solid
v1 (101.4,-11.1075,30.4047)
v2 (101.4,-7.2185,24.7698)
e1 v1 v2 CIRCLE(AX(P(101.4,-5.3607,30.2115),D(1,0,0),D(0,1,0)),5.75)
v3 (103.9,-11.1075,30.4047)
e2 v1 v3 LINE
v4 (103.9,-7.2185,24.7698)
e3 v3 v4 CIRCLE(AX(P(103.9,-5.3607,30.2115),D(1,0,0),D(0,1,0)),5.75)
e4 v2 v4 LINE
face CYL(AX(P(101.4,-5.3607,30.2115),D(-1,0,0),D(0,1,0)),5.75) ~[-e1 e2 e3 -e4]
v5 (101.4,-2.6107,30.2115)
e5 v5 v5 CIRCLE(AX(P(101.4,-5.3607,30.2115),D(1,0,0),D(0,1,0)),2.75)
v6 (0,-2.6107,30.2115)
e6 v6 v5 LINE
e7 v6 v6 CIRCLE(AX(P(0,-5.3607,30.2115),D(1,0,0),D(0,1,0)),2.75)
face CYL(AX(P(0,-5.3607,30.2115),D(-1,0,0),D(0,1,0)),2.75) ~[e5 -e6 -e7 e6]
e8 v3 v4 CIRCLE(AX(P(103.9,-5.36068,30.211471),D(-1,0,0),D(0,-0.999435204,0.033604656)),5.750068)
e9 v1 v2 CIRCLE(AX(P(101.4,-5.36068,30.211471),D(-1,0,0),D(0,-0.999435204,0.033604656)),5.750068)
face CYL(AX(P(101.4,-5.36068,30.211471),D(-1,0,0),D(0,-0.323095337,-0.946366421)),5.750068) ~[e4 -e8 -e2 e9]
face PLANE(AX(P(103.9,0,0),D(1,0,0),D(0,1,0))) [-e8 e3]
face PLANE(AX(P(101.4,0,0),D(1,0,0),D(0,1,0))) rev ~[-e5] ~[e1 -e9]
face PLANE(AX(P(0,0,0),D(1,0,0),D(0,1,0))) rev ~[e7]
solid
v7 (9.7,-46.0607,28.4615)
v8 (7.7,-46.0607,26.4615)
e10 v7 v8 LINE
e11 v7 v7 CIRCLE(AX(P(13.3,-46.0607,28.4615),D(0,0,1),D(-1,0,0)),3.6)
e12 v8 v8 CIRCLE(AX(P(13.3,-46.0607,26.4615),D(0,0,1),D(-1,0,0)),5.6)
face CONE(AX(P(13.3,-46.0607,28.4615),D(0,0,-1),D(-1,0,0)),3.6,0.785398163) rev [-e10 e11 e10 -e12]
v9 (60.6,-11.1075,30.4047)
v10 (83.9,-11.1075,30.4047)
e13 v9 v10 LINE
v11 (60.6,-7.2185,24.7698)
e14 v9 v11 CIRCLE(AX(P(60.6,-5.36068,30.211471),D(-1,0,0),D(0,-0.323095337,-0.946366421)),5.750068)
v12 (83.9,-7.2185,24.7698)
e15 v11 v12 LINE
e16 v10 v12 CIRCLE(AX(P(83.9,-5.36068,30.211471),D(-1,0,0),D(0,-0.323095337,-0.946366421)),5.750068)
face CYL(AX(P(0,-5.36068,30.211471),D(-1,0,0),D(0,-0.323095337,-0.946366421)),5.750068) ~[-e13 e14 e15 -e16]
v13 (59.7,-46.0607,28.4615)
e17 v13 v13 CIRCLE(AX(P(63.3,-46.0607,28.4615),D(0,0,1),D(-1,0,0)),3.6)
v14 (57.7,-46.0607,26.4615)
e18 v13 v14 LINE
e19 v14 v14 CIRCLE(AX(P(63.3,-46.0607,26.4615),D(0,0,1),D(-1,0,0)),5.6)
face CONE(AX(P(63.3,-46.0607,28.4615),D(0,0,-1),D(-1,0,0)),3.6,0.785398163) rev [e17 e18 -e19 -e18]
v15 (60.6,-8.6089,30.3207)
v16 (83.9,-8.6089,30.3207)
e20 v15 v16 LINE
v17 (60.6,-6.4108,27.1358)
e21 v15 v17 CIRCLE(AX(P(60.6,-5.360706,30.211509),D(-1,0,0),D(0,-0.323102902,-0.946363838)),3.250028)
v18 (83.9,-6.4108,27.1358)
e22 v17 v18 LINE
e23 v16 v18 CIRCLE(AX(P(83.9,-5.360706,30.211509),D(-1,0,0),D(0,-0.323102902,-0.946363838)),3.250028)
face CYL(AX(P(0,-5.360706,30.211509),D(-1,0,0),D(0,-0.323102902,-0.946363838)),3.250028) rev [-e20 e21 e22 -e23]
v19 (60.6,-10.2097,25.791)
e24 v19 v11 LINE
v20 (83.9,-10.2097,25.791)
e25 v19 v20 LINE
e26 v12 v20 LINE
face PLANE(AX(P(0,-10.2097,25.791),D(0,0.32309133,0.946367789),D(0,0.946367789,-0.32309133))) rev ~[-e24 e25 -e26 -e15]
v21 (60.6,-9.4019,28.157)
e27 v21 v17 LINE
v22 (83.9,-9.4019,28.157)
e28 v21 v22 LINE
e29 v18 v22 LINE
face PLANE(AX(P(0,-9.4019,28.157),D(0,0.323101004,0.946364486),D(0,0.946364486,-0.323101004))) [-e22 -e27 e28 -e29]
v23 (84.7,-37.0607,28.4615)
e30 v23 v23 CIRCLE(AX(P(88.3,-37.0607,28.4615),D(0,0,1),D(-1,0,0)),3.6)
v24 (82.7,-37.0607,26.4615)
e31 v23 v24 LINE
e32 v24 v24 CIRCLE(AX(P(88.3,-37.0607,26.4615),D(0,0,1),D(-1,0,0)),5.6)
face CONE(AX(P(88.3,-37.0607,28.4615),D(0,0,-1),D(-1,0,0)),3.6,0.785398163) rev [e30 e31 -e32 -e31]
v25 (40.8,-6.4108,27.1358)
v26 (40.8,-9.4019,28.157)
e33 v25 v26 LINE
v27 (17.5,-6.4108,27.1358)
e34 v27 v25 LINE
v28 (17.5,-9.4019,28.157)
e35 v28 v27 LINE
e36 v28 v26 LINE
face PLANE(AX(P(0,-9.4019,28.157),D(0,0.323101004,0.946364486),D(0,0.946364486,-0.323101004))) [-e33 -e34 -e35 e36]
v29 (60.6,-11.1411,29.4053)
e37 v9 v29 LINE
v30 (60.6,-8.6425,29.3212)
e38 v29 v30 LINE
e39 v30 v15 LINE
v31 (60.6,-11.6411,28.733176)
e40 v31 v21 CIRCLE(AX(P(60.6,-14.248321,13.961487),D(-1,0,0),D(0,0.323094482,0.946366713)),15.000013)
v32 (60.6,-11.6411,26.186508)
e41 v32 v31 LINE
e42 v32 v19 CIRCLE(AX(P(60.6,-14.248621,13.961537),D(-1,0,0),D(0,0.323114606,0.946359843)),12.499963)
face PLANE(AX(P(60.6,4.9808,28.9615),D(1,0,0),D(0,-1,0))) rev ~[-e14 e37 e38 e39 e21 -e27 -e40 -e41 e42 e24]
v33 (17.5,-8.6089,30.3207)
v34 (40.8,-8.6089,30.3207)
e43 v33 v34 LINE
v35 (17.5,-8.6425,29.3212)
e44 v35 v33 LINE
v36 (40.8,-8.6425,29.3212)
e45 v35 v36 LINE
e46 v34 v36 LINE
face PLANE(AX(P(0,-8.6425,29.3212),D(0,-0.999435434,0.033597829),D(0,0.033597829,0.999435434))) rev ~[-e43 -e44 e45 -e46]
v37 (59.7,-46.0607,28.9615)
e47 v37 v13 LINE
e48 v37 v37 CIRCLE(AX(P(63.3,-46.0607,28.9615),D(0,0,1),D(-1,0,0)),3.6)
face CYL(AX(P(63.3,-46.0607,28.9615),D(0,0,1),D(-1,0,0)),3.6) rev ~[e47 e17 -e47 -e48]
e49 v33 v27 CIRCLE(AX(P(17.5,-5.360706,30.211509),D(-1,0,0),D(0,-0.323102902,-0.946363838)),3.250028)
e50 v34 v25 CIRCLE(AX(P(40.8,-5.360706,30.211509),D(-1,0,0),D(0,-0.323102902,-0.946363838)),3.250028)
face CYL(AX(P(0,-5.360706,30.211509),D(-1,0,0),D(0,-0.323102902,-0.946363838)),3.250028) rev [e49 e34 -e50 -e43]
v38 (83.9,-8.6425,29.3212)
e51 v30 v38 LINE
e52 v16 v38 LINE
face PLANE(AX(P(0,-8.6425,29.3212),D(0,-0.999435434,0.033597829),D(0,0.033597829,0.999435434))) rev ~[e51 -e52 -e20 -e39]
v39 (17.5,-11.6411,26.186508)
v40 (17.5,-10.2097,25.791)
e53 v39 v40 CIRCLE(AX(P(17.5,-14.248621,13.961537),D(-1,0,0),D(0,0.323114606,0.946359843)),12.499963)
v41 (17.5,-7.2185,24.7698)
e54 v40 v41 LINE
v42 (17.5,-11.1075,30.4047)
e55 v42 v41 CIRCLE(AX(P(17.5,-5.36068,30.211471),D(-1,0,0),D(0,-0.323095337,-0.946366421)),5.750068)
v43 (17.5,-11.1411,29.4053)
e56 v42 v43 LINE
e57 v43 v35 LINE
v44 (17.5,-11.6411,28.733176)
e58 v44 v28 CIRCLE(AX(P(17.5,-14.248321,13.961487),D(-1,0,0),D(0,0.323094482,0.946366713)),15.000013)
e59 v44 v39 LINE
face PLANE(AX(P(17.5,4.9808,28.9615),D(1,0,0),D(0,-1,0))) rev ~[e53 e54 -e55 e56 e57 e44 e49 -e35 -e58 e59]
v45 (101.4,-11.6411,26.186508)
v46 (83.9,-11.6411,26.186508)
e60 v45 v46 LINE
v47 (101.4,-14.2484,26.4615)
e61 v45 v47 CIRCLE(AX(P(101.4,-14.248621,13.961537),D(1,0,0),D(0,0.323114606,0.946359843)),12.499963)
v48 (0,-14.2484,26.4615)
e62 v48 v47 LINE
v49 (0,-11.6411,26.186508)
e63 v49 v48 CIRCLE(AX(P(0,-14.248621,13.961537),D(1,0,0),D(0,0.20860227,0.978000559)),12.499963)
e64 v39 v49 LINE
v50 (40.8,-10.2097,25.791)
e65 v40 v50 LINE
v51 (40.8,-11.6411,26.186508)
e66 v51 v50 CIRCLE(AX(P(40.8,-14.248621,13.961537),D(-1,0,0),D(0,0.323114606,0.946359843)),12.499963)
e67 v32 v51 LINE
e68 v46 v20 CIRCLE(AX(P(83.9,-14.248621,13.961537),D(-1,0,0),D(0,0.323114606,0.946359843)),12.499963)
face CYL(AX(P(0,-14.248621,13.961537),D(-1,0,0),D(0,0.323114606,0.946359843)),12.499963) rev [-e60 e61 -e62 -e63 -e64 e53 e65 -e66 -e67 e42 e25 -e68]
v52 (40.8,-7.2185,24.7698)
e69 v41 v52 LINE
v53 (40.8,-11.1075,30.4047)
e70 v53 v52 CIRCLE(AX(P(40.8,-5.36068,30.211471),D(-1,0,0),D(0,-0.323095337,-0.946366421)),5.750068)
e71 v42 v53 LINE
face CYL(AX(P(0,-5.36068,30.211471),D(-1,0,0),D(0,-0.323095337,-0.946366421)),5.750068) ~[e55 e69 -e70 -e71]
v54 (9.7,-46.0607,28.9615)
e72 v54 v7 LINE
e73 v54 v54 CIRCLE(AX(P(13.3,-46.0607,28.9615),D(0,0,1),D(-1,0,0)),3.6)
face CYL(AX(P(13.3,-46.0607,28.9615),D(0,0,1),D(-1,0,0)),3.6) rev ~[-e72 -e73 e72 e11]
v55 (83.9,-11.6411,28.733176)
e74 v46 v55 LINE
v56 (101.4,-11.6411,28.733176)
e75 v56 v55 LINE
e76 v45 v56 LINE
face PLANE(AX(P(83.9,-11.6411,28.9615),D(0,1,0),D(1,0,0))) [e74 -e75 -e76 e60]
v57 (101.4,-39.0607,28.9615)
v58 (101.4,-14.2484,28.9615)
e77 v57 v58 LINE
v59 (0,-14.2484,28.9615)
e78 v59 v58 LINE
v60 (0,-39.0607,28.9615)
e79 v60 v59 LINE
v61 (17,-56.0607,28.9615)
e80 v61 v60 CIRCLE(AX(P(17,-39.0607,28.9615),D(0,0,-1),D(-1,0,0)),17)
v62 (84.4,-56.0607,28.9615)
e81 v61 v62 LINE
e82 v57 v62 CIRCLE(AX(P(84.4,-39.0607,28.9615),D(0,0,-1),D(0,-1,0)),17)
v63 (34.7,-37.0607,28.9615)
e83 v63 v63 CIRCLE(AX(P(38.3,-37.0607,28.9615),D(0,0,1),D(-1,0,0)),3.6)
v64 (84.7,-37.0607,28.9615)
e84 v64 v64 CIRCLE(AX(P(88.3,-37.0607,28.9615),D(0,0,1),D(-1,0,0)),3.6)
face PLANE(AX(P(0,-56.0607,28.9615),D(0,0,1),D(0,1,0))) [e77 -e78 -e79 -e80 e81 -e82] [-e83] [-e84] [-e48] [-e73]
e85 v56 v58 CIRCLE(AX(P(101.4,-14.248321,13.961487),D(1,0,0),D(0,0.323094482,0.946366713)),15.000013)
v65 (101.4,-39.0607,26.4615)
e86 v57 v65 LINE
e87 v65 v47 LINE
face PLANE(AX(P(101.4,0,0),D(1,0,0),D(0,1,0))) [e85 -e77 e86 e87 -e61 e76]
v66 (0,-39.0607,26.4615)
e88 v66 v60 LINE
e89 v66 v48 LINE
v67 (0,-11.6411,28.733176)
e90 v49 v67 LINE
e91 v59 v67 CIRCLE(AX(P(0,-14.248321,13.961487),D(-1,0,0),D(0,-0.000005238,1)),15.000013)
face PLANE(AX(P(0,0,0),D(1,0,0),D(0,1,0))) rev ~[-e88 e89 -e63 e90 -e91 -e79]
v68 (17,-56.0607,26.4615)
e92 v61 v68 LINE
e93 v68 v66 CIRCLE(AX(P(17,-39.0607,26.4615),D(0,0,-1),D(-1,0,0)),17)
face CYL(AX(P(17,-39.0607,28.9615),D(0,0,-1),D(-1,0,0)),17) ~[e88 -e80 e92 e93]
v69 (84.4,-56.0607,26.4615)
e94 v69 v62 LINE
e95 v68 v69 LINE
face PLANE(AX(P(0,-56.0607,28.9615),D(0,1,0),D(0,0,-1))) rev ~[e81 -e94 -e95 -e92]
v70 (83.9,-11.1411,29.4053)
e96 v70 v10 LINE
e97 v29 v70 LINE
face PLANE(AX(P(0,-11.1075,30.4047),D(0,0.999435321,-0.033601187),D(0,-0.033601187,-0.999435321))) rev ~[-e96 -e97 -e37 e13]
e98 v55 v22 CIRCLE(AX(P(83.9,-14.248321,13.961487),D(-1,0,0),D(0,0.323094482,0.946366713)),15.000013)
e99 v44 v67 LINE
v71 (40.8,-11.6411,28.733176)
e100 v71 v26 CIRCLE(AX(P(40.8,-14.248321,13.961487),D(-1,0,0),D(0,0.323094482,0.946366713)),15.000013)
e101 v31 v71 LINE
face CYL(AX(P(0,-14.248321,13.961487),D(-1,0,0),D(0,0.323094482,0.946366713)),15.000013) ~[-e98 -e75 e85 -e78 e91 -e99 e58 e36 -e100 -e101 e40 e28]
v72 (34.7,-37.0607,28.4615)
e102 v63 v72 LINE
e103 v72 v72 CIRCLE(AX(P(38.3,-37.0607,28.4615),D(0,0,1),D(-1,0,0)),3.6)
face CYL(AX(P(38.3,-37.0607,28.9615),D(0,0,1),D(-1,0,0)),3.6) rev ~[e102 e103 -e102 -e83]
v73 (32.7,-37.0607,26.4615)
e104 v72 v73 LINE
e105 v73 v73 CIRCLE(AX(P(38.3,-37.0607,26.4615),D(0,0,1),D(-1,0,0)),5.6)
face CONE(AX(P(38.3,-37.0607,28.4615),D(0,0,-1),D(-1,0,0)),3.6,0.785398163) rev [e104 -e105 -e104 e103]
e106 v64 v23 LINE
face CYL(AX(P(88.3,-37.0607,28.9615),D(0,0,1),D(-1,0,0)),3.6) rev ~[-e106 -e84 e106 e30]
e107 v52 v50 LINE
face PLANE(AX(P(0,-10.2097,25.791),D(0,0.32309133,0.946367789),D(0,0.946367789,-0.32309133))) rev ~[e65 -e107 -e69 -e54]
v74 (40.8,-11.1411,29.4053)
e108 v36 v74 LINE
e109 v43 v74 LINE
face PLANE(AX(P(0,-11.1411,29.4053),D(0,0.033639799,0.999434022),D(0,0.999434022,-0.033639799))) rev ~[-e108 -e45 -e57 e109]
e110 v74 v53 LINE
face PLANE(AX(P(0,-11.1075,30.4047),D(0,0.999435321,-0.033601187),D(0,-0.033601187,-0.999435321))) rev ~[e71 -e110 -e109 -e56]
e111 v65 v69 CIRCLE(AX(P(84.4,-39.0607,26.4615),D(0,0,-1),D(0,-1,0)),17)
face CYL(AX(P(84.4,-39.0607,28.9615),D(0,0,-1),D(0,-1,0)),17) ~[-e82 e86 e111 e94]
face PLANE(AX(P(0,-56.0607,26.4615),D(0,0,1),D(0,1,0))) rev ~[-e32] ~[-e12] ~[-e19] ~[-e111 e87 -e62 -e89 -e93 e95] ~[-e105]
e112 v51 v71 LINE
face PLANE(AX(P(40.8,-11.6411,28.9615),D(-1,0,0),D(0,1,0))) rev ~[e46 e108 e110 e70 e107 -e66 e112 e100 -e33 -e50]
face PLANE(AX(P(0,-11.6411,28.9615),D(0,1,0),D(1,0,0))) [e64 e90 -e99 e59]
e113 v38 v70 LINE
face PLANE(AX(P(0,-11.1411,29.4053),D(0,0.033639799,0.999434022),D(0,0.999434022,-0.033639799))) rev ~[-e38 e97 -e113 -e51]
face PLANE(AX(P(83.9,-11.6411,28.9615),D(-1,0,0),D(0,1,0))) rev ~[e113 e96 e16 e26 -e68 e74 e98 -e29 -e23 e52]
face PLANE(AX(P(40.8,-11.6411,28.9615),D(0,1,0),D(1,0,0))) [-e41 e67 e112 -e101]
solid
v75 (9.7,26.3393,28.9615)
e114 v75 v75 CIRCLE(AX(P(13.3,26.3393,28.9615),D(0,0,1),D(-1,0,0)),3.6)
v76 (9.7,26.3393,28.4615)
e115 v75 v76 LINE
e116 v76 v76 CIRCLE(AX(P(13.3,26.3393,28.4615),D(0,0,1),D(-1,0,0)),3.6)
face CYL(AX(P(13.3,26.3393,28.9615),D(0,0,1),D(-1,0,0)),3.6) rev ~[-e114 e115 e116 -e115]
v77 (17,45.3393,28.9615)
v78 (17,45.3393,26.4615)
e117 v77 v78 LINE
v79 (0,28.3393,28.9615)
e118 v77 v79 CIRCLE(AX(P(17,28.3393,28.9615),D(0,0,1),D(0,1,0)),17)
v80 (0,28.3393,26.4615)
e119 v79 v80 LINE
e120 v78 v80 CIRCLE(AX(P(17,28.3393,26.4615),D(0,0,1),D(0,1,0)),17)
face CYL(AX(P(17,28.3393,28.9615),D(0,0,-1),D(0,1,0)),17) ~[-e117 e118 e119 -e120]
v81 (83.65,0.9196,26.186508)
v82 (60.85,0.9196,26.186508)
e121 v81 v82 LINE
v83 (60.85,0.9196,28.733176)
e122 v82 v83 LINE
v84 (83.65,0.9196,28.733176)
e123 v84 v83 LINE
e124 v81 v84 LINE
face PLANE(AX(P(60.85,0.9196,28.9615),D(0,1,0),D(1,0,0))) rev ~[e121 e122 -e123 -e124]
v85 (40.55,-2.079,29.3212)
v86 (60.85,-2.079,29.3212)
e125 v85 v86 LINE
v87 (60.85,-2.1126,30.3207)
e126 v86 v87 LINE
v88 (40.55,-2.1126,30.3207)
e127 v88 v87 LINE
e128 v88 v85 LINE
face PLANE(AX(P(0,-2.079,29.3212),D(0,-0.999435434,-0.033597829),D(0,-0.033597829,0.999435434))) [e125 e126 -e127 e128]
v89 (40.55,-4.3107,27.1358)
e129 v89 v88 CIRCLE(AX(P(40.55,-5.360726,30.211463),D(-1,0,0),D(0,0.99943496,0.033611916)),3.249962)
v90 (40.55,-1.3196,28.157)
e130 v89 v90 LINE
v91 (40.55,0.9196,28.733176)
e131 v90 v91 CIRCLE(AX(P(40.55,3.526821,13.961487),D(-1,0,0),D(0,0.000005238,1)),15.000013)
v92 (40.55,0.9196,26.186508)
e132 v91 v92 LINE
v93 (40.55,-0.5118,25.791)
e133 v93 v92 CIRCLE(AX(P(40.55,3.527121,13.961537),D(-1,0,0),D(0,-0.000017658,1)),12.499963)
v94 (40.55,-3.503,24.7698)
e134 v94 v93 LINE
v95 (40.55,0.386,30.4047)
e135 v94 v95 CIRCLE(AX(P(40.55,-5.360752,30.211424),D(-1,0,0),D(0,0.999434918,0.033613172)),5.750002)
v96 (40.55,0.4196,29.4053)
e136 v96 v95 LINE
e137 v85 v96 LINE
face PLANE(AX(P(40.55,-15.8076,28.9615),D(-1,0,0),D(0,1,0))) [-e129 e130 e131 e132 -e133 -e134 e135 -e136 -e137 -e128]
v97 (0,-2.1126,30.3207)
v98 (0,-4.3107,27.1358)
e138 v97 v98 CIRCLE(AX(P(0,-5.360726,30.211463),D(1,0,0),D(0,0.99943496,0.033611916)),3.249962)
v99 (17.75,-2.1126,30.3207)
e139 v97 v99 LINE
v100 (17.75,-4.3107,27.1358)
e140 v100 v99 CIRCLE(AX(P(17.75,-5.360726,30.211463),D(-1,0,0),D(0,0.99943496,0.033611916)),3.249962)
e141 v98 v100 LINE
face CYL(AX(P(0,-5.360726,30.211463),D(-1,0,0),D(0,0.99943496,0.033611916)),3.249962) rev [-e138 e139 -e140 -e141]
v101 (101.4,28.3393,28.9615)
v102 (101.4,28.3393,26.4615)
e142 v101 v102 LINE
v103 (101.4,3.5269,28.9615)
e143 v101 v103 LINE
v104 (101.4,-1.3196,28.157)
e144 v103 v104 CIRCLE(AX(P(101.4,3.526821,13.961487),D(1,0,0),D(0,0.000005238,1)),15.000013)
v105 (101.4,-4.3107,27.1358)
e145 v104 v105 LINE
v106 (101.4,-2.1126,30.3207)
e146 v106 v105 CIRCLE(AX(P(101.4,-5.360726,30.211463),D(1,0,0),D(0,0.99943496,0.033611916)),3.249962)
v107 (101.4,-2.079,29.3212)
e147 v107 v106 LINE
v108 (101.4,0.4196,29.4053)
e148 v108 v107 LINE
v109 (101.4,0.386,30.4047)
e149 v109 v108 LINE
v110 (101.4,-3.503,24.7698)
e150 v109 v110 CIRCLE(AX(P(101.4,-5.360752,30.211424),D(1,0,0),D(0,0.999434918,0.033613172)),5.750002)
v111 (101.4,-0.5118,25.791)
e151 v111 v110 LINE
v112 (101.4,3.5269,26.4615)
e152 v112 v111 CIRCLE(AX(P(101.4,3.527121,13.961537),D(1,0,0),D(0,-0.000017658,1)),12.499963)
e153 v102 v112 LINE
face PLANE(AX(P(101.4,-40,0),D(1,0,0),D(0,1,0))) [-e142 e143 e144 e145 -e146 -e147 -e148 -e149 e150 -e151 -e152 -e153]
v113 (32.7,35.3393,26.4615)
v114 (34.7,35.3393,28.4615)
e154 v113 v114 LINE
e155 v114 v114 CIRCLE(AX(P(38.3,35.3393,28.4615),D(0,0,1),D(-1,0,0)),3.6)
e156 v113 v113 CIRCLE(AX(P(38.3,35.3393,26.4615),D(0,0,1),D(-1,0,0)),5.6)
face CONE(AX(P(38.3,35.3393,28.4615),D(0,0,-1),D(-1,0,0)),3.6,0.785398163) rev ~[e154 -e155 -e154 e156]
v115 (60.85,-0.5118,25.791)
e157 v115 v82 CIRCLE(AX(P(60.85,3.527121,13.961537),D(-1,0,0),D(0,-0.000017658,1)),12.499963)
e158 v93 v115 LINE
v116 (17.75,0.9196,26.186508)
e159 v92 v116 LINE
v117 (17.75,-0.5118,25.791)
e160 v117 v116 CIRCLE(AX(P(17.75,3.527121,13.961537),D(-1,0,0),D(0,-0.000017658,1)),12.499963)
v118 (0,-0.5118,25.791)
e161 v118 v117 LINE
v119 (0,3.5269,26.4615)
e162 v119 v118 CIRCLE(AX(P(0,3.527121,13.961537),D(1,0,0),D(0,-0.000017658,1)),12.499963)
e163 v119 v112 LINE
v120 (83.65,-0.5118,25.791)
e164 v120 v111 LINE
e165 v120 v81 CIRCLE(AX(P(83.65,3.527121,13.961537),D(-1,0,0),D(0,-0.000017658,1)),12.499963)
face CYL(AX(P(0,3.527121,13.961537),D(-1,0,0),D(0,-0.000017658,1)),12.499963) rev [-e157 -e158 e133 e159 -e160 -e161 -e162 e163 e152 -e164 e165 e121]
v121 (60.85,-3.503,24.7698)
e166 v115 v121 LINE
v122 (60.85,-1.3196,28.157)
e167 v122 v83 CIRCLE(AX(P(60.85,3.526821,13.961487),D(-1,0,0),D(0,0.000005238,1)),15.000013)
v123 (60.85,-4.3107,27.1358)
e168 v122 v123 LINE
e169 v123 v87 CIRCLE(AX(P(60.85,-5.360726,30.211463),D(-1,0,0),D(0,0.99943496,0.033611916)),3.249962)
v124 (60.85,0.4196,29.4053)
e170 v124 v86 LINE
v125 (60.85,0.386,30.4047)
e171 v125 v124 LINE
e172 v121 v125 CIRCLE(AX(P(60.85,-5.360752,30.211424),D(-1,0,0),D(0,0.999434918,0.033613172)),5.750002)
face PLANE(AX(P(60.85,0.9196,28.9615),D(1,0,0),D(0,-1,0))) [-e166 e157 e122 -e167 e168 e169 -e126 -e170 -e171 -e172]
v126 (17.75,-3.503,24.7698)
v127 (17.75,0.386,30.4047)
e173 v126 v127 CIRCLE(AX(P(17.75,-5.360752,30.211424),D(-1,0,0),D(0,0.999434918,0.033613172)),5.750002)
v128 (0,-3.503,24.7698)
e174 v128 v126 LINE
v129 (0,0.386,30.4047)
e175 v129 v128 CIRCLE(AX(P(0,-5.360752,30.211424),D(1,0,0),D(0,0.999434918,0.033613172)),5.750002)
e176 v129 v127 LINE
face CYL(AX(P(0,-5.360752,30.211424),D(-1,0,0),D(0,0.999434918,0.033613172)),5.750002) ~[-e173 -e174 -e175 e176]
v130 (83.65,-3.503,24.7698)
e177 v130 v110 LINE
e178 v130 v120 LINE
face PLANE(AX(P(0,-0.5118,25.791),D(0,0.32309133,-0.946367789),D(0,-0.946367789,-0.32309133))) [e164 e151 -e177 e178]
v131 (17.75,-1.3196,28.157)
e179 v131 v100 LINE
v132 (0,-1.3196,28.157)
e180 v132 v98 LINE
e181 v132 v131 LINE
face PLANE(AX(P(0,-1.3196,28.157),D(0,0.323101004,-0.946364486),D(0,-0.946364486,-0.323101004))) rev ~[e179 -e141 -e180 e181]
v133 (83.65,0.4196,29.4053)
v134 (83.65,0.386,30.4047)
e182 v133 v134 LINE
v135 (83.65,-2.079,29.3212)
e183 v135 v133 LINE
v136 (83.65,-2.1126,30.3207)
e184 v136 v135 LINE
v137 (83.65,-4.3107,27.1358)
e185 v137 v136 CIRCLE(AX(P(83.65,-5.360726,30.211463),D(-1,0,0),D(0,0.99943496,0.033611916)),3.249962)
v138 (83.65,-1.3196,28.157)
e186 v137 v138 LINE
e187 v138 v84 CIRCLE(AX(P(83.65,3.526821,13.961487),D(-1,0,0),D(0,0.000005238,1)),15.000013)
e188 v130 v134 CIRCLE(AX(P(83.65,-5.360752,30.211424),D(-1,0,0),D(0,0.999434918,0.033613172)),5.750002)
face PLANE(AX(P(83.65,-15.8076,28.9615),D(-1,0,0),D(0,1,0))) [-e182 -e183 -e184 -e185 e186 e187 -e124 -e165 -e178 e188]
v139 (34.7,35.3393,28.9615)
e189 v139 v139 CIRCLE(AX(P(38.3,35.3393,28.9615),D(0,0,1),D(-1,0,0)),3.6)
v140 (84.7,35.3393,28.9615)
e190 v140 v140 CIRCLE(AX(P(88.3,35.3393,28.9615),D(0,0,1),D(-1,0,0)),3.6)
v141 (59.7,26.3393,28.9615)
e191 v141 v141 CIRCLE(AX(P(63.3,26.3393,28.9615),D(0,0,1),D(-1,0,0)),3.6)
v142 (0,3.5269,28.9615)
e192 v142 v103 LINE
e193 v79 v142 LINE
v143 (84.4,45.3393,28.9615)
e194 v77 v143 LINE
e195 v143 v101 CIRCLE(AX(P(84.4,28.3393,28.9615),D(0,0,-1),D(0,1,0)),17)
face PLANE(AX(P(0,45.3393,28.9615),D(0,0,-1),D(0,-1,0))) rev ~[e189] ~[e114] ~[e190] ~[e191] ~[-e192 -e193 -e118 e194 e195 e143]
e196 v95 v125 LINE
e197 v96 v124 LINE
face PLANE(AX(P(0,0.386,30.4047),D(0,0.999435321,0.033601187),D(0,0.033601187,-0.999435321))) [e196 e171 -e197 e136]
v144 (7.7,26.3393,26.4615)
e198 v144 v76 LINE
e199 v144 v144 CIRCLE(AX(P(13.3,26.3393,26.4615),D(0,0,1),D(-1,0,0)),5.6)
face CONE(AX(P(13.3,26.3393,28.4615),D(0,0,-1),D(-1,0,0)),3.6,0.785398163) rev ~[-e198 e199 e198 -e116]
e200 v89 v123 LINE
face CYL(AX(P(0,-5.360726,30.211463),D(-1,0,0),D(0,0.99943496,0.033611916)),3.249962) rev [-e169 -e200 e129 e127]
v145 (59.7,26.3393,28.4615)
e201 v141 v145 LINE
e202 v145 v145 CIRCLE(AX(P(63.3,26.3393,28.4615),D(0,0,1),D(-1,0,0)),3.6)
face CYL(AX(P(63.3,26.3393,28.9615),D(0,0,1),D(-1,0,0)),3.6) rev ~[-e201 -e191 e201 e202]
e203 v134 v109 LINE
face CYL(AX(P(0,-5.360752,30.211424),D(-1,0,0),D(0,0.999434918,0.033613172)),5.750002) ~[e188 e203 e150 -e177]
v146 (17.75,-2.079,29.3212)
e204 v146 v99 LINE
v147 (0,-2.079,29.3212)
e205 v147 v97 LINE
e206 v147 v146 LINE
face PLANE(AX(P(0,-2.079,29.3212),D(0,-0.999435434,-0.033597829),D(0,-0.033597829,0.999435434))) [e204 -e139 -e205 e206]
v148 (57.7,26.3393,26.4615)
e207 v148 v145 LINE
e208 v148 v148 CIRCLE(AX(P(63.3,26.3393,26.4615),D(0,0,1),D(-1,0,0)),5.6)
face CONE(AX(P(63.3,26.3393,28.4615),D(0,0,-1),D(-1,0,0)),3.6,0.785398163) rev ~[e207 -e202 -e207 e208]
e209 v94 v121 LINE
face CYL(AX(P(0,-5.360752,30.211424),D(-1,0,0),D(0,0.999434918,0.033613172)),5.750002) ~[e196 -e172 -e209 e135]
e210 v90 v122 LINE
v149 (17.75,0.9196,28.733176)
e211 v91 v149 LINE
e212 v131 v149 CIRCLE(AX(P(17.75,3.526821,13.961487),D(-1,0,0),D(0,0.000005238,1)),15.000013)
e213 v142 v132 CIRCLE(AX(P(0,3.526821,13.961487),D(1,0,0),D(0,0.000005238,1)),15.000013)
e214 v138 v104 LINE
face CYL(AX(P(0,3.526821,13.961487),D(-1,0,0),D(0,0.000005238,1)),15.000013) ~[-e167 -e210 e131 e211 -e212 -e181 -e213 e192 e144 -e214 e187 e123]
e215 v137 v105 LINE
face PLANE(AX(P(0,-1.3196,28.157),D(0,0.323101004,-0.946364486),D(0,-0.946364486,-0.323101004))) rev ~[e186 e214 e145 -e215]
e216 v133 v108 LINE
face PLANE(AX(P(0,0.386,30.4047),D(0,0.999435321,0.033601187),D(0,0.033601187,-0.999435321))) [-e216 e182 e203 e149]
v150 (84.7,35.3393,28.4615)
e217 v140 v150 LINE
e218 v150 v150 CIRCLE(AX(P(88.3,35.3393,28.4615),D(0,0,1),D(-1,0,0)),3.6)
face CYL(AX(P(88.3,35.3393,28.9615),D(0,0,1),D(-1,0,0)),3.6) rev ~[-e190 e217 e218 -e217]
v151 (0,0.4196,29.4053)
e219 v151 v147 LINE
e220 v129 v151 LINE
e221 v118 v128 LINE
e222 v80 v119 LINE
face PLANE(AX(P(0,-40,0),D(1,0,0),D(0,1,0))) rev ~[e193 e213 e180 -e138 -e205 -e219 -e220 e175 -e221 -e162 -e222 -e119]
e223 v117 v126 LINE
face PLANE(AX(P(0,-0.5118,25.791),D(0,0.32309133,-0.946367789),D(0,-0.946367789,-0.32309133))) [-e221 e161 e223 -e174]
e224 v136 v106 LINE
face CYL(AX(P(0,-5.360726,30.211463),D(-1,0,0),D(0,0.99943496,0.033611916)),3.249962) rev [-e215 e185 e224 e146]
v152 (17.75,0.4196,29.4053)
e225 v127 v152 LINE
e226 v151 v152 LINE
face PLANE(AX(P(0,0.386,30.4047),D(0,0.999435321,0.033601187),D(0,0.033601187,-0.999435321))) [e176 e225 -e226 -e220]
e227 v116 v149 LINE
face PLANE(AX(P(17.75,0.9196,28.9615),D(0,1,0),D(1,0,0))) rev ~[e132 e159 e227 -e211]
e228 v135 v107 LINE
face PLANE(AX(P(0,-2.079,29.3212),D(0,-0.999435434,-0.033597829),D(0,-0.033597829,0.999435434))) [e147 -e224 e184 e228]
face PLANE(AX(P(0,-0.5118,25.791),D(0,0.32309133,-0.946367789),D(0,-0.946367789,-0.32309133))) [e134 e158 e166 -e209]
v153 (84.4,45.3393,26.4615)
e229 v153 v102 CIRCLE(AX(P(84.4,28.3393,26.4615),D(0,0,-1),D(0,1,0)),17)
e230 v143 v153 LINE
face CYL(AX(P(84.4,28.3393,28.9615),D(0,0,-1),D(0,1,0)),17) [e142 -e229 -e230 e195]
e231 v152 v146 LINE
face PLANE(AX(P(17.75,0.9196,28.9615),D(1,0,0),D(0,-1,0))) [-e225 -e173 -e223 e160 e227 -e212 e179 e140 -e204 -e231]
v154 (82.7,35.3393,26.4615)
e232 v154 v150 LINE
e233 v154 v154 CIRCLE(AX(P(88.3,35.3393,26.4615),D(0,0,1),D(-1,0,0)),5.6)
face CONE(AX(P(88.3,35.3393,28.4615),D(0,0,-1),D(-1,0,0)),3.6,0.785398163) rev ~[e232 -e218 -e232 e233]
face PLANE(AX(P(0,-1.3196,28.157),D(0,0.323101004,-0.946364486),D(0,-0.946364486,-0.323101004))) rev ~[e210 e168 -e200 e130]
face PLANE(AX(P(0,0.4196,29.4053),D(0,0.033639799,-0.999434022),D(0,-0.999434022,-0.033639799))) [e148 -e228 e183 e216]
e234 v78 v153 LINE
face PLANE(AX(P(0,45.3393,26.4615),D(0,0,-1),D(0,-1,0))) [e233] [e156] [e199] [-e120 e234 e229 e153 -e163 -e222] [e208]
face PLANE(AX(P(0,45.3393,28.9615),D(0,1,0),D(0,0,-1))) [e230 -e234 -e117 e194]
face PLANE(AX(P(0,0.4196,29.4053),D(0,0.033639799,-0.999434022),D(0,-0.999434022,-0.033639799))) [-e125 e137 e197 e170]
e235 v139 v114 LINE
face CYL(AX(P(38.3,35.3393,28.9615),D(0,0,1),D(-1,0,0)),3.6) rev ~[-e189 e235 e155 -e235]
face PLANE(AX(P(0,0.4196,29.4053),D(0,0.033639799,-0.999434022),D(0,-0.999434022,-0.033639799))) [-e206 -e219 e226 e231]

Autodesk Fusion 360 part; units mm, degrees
sketch "Sketch1" plane through (0, 0, 0) normal (1, 0, 0) x (0, 1, 0)
  line L0 (-56.0607, 28.9615) -> (-14.2484, 28.9615)
  line L1 (-9.4019, 28.157) -> (-6.4108, 27.1358)
  arc A0 (-6.4108, 27.1358) -> (-8.6089, 30.3207) centre (-5.3607, 30.2115) ccw
  circle A1 centre (-5.3607, 30.2115) radius 2.75
  line L2 (-56.0607, 26.4615) -> (-14.2484, 26.4615)
  line L3 (-10.2097, 25.791) -> (-7.2185, 24.7698)
  arc A2 (-7.2185, 24.7698) -> (-11.1075, 30.4047) centre (-5.3607, 30.2115) ccw
  line L4 (-56.0607, 28.9615) -> (-56.0607, 26.4615)
  line L5 (-11.1075, 30.4047) -> (-11.1411, 29.4053)
  line L6 (-11.1411, 29.4053) -> (-8.6425, 29.3212)
  line L7 (-8.6425, 29.3212) -> (-8.6089, 30.3207)
  arc A3 (-9.4019, 28.157) -> (-14.2484, 28.9615) centre (-14.2484, 13.9615) ccw
  arc A4 (-10.2097, 25.791) -> (-14.2484, 26.4615) centre (-14.2484, 13.9615) ccw
  line L8 (14.6393, 52.3652) -> (14.6393, 9.6795) construction
  arc A5 (40.386, 30.4047) -> (36.497, 24.7698) centre (34.6393, 30.2115) ccw
  circle A6 centre (34.6393, 30.2115) radius 2.75
  line L9 (85.3393, 28.9615) -> (43.5269, 28.9615)
  line L10 (85.3393, 28.9615) -> (85.3393, 26.4615)
  arc A7 (43.5269, 28.9615) -> (38.6804, 28.157) centre (43.5269, 13.9615) ccw
  line L11 (40.386, 30.4047) -> (40.4196, 29.4053)
  arc A8 (37.8874, 30.3207) -> (35.6893, 27.1358) centre (34.6393, 30.2115) ccw
  line L12 (38.6804, 28.157) -> (35.6893, 27.1358)
  line L13 (40.4196, 29.4053) -> (37.921, 29.3212)
  line L14 (39.4882, 25.791) -> (36.497, 24.7698)
  line L15 (85.3393, 26.4615) -> (43.5269, 26.4615)
  arc A9 (43.5269, 26.4615) -> (39.4882, 25.791) centre (43.5269, 13.9615) ccw
  line L16 (37.921, 29.3212) -> (37.8874, 30.3207)
  dimension "d1" = 5.5
  dimension "d3" = 50.7
  dimension "d4" = 2.5
  dimension "d5" = 1.25
  dimension "d6" = 0.5
  dimension "d7" = 2.5
  dimension "d9" = 1
  dimension "d10" = 15
  dimension "d12" = 20
extrude "Extrude1" add sketch "Sketch1" along normal blind 101.4 contours L0 L1 A0 L2 L3 A2 L4 L5 L6 L7 A3 A4 makes body 1 in component "Hinge side 1"
sketch "Sketch1 (2)" plane through (0, 0, 28.9615) normal (0, 0, 1) x (-1, 0, 0) in component "Hinge side 1"
  line L0 (0, 14.2484) -> (0, 56.0607)
  line L1 (0, 56.0607) -> (-101.4, 56.0607)
  line L2 (-101.4, 56.0607) -> (-101.4, 14.2484)
  line L3 (-101.4, 14.2484) -> (0, 14.2484)
  line L4 (0, 14.2484) -> (18.3824, 20.4527)
  line L5 (18.3824, 20.4527) -> (18.3824, -4.9808)
  line L6 (18.3824, -4.9808) -> (-17.5, -4.9808)
  line L7 (-17.5, -4.9808) -> (-17.5, 14.2484)
  line L8 (-40.8, 14.2484) -> (-40.8, 11.0057)
  line L9 (-40.8, 11.0057) -> (-40.8, -4.9808)
  line L10 (-40.8, -4.9808) -> (-60.6, -4.9808)
  line L11 (-60.6, -4.9808) -> (-60.6, 14.2484)
  line L12 (-83.9, 14.2484) -> (-83.9, -4.9808)
  line L13 (-83.9, -4.9808) -> (-134.9138, -4.9808)
  line L14 (-134.9138, -4.9808) -> (-127.3022, 20.8989)
  line L15 (-127.3022, 20.8989) -> (-101.4, 14.2484)
  circle A0 centre (-13.3, 46.0607) radius 3.6
  circle A1 centre (-63.3, 46.0607) radius 3.6
  circle A2 centre (-38.3, 37.0607) radius 3.6
  circle A3 centre (-88.3, 37.0607) radius 3.6
  arc A4 (0, 39.0607) -> (-17, 56.0607) centre (-17, 39.0607) ccw
  arc A5 (-84.4, 56.0607) -> (-101.4, 39.0607) centre (-84.4, 39.0607) ccw
  line L16 (0, 11.1411) -> (0, 8.6425)
  line L17 (-60.6, 11.6411) -> (-61.7689, 11.6411)
  line L18 (0, 11.6411) -> (-83.9, 11.6411)
  arc A6 (0, 11.6411) -> (0, 13.0607) centre (0, 12.3509) ccw
  line L19 (0, 13.0607) -> (0, 14.2484)
  line L20 (-83.9, 11.6411) -> (-104.4263, 11.6411)
  line L21 (-104.4263, 11.6411) -> (-104.4263, 15.0254)
  dimension "d25" = 17.5
  dimension "d26" = 17.5
  dimension "d27" = 23.3
  dimension "d28" = 23.3
  dimension "d37" = 7.2
  dimension "d40" = -25
  dimension "d41" = -9
  dimension "d42" = 13.3
  dimension "d43" = 10
  dimension "d44" = 17
  dimension "d45" = 17
  dimension "d78" = 0.5
extrude "Extrude2" cut sketch "Sketch1 (2)" along normal blind 10 and the other way blind 10 contours L4 L5 L6 L7 L18 A6 L19 | L0 L1 A4 | L1 L2 A5 | L8 L9 L10 L11 L18 | L12 L13 L14 L15 L20 L21 | A0 | A1 | A2 | A3 bodies 1 in component "Hinge side 1"
chamfer "Chamfer1" distance 2 angle 45 4 edges at (16.6564, -44.7589, 26.4615) (41.6564, -35.7589, 26.4615) (66.6564, -44.7589, 26.4615) (91.6564, -35.7589, 26.4615) on bodies 1 in component "Hinge side 1"
extrude "Extrude1'" add sketch "Sketch1" along normal blind 101.4 separate body contours A5 L9 L10 A7 L11 A8 L12 L13 L14 L15 A9 L16 makes body 2 in component "Hinge side 2"
sketch "Sketch1 (3)" plane through (0, 0, 28.9615) normal (0, 0, 1) x (-1, 0, 0) in component "Hinge side 2"
  line L0 (0, -85.3393) -> (0, -43.5269)
  line L1 (0, -43.5269) -> (-101.4, -43.5269)
  line L2 (-101.4, -43.5269) -> (-101.4, -85.3393)
  line L3 (-101.4, -85.3393) -> (0, -85.3393)
  line L4 (-17.75, -43.5269) -> (-17.75, -24.1924)
  line L5 (-17.75, -24.1924) -> (-40.55, -24.1924)
  line L6 (-40.55, -24.1924) -> (-40.55, -43.5269)
  line L7 (-60.85, -43.5269) -> (-60.85, -24.1924)
  line L8 (-60.85, -24.1924) -> (-83.65, -24.1924)
  line L9 (-83.65, -24.1924) -> (-83.65, -43.5269)
  line L10 (-17.5, -4.9808) -> (-17.5, 14.2484)
  line L11 (-40.8, 11.0057) -> (-40.8, -4.9808)
  line L12 (-60.6, -4.9808) -> (-60.6, 14.2484)
  line L13 (-83.9, 14.2484) -> (-83.9, -4.9808)
  line L14 (0, -40.4196) -> (0, -37.921)
  line L15 (-17.75, -40.9196) -> (-83.65, -40.9196)
  dimension "d29" = 0.25
  dimension "d30" = 0.25
  dimension "d31" = 0.25
  dimension "d32" = 0.25
  dimension "d80" = 0.5
extrude "Extrude2'" cut sketch "Sketch1 (3)" along normal blind 10 and the other way blind 10 contours L4 L5 L6 L15 | L7 L8 L9 L15 bodies 2 in component "Hinge side 2"
sketch "Sketch2" plane through (0, 0, 28.9615) normal (0, 0, 1) x (-1, 0, 0) in component "Hinge side 2"
  line L0 (0, -85.3393) -> (0, -43.5269)
  line L1 (0, -43.5269) -> (-101.4, -43.5269)
  line L2 (-101.4, -43.5269) -> (-101.4, -85.3393)
  line L3 (-101.4, -85.3393) -> (0, -85.3393)
  circle A0 centre (-13.3, -66.3393) radius 3.6
  circle A1 centre (-38.3, -75.3393) radius 3.6
  circle A2 centre (-63.3, -66.3393) radius 3.6
  circle A3 centre (-88.3, -75.3393) radius 3.6
  line L4 (0, -85.3393) -> (0, -43.5269)
  dimension "d46" = 7.2
  dimension "d47" = 7.2
  dimension "d48" = 7.2
  dimension "d49" = 7.2
  dimension "d50" = 13.3
  dimension "d51" = 25
  dimension "d52" = 50
  dimension "d53" = 50
  dimension "d54" = 10
  dimension "d55" = 19
extrude "Extrude3" cut sketch "Sketch2" against normal blind 3 contours A0 | A1 | A2 | A3 bodies 2 in component "Hinge side 2"
chamfer "Chamfer1'" distance 2 angle 45 4 edges at (91.6564, 76.6411, 26.4615) (66.6564, 67.6411, 26.4615) (41.6564, 76.6411, 26.4615) (16.6564, 67.6411, 26.4615) on bodies 2 in component "Hinge side 2"
fillet "Fillet1" radius 17 2 edges at (0, 85.3393, 27.7115) (101.4, 85.3393, 27.7115) on bodies 2 in component "Hinge side 2"
extrude "Extrude1''" add sketch "Sketch1" along normal blind 101.4 separate body contours A1 makes body 3 in component "Hinge pin"
sketch "Sketch1 (4)" plane through (101.4, 0, 0) normal (1, 0, 0) x (0, 1, 0) in component "Hinge pin"
  circle A0 centre (-5.3607, 30.2115) radius 2.75
  arc A1 (-7.2185, 24.7698) -> (-11.1075, 30.4047) centre (-5.3607, 30.2115) ccw
  circle A2 centre (-5.3607, 30.2115) radius 5.75
extrude "Extrude2''" add sketch "Sketch1 (4)" along normal blind 2.5 contours A0 | A1 A2 bodies 3 in component "Hinge pin"
component "Hinge side 1" placed x (1, 0, 0) y (0, 1, 0) z (0, 0, 1) at (0, 0, 0)
component "Hinge side 2" placed x (1, 0, 0) y (0, 1, 0) z (0, 0, 1) at (0, -40, 0)
component "Hinge pin" placed x (1, 0, 0) y (0, 1, 0) z (0, 0, 1) at (0, 0, 0)
equation "d3 = ( 101.4 / 2 ) * 1 mm"
equation "d5 = d4 / 2"
equation "d7 = d4"
equation "d26 = d25"
equation "d27 = d28"
equation "d30 = d29"
equation "d31 = d29"
equation "d32 = d29"
equation "d45 = d44"
